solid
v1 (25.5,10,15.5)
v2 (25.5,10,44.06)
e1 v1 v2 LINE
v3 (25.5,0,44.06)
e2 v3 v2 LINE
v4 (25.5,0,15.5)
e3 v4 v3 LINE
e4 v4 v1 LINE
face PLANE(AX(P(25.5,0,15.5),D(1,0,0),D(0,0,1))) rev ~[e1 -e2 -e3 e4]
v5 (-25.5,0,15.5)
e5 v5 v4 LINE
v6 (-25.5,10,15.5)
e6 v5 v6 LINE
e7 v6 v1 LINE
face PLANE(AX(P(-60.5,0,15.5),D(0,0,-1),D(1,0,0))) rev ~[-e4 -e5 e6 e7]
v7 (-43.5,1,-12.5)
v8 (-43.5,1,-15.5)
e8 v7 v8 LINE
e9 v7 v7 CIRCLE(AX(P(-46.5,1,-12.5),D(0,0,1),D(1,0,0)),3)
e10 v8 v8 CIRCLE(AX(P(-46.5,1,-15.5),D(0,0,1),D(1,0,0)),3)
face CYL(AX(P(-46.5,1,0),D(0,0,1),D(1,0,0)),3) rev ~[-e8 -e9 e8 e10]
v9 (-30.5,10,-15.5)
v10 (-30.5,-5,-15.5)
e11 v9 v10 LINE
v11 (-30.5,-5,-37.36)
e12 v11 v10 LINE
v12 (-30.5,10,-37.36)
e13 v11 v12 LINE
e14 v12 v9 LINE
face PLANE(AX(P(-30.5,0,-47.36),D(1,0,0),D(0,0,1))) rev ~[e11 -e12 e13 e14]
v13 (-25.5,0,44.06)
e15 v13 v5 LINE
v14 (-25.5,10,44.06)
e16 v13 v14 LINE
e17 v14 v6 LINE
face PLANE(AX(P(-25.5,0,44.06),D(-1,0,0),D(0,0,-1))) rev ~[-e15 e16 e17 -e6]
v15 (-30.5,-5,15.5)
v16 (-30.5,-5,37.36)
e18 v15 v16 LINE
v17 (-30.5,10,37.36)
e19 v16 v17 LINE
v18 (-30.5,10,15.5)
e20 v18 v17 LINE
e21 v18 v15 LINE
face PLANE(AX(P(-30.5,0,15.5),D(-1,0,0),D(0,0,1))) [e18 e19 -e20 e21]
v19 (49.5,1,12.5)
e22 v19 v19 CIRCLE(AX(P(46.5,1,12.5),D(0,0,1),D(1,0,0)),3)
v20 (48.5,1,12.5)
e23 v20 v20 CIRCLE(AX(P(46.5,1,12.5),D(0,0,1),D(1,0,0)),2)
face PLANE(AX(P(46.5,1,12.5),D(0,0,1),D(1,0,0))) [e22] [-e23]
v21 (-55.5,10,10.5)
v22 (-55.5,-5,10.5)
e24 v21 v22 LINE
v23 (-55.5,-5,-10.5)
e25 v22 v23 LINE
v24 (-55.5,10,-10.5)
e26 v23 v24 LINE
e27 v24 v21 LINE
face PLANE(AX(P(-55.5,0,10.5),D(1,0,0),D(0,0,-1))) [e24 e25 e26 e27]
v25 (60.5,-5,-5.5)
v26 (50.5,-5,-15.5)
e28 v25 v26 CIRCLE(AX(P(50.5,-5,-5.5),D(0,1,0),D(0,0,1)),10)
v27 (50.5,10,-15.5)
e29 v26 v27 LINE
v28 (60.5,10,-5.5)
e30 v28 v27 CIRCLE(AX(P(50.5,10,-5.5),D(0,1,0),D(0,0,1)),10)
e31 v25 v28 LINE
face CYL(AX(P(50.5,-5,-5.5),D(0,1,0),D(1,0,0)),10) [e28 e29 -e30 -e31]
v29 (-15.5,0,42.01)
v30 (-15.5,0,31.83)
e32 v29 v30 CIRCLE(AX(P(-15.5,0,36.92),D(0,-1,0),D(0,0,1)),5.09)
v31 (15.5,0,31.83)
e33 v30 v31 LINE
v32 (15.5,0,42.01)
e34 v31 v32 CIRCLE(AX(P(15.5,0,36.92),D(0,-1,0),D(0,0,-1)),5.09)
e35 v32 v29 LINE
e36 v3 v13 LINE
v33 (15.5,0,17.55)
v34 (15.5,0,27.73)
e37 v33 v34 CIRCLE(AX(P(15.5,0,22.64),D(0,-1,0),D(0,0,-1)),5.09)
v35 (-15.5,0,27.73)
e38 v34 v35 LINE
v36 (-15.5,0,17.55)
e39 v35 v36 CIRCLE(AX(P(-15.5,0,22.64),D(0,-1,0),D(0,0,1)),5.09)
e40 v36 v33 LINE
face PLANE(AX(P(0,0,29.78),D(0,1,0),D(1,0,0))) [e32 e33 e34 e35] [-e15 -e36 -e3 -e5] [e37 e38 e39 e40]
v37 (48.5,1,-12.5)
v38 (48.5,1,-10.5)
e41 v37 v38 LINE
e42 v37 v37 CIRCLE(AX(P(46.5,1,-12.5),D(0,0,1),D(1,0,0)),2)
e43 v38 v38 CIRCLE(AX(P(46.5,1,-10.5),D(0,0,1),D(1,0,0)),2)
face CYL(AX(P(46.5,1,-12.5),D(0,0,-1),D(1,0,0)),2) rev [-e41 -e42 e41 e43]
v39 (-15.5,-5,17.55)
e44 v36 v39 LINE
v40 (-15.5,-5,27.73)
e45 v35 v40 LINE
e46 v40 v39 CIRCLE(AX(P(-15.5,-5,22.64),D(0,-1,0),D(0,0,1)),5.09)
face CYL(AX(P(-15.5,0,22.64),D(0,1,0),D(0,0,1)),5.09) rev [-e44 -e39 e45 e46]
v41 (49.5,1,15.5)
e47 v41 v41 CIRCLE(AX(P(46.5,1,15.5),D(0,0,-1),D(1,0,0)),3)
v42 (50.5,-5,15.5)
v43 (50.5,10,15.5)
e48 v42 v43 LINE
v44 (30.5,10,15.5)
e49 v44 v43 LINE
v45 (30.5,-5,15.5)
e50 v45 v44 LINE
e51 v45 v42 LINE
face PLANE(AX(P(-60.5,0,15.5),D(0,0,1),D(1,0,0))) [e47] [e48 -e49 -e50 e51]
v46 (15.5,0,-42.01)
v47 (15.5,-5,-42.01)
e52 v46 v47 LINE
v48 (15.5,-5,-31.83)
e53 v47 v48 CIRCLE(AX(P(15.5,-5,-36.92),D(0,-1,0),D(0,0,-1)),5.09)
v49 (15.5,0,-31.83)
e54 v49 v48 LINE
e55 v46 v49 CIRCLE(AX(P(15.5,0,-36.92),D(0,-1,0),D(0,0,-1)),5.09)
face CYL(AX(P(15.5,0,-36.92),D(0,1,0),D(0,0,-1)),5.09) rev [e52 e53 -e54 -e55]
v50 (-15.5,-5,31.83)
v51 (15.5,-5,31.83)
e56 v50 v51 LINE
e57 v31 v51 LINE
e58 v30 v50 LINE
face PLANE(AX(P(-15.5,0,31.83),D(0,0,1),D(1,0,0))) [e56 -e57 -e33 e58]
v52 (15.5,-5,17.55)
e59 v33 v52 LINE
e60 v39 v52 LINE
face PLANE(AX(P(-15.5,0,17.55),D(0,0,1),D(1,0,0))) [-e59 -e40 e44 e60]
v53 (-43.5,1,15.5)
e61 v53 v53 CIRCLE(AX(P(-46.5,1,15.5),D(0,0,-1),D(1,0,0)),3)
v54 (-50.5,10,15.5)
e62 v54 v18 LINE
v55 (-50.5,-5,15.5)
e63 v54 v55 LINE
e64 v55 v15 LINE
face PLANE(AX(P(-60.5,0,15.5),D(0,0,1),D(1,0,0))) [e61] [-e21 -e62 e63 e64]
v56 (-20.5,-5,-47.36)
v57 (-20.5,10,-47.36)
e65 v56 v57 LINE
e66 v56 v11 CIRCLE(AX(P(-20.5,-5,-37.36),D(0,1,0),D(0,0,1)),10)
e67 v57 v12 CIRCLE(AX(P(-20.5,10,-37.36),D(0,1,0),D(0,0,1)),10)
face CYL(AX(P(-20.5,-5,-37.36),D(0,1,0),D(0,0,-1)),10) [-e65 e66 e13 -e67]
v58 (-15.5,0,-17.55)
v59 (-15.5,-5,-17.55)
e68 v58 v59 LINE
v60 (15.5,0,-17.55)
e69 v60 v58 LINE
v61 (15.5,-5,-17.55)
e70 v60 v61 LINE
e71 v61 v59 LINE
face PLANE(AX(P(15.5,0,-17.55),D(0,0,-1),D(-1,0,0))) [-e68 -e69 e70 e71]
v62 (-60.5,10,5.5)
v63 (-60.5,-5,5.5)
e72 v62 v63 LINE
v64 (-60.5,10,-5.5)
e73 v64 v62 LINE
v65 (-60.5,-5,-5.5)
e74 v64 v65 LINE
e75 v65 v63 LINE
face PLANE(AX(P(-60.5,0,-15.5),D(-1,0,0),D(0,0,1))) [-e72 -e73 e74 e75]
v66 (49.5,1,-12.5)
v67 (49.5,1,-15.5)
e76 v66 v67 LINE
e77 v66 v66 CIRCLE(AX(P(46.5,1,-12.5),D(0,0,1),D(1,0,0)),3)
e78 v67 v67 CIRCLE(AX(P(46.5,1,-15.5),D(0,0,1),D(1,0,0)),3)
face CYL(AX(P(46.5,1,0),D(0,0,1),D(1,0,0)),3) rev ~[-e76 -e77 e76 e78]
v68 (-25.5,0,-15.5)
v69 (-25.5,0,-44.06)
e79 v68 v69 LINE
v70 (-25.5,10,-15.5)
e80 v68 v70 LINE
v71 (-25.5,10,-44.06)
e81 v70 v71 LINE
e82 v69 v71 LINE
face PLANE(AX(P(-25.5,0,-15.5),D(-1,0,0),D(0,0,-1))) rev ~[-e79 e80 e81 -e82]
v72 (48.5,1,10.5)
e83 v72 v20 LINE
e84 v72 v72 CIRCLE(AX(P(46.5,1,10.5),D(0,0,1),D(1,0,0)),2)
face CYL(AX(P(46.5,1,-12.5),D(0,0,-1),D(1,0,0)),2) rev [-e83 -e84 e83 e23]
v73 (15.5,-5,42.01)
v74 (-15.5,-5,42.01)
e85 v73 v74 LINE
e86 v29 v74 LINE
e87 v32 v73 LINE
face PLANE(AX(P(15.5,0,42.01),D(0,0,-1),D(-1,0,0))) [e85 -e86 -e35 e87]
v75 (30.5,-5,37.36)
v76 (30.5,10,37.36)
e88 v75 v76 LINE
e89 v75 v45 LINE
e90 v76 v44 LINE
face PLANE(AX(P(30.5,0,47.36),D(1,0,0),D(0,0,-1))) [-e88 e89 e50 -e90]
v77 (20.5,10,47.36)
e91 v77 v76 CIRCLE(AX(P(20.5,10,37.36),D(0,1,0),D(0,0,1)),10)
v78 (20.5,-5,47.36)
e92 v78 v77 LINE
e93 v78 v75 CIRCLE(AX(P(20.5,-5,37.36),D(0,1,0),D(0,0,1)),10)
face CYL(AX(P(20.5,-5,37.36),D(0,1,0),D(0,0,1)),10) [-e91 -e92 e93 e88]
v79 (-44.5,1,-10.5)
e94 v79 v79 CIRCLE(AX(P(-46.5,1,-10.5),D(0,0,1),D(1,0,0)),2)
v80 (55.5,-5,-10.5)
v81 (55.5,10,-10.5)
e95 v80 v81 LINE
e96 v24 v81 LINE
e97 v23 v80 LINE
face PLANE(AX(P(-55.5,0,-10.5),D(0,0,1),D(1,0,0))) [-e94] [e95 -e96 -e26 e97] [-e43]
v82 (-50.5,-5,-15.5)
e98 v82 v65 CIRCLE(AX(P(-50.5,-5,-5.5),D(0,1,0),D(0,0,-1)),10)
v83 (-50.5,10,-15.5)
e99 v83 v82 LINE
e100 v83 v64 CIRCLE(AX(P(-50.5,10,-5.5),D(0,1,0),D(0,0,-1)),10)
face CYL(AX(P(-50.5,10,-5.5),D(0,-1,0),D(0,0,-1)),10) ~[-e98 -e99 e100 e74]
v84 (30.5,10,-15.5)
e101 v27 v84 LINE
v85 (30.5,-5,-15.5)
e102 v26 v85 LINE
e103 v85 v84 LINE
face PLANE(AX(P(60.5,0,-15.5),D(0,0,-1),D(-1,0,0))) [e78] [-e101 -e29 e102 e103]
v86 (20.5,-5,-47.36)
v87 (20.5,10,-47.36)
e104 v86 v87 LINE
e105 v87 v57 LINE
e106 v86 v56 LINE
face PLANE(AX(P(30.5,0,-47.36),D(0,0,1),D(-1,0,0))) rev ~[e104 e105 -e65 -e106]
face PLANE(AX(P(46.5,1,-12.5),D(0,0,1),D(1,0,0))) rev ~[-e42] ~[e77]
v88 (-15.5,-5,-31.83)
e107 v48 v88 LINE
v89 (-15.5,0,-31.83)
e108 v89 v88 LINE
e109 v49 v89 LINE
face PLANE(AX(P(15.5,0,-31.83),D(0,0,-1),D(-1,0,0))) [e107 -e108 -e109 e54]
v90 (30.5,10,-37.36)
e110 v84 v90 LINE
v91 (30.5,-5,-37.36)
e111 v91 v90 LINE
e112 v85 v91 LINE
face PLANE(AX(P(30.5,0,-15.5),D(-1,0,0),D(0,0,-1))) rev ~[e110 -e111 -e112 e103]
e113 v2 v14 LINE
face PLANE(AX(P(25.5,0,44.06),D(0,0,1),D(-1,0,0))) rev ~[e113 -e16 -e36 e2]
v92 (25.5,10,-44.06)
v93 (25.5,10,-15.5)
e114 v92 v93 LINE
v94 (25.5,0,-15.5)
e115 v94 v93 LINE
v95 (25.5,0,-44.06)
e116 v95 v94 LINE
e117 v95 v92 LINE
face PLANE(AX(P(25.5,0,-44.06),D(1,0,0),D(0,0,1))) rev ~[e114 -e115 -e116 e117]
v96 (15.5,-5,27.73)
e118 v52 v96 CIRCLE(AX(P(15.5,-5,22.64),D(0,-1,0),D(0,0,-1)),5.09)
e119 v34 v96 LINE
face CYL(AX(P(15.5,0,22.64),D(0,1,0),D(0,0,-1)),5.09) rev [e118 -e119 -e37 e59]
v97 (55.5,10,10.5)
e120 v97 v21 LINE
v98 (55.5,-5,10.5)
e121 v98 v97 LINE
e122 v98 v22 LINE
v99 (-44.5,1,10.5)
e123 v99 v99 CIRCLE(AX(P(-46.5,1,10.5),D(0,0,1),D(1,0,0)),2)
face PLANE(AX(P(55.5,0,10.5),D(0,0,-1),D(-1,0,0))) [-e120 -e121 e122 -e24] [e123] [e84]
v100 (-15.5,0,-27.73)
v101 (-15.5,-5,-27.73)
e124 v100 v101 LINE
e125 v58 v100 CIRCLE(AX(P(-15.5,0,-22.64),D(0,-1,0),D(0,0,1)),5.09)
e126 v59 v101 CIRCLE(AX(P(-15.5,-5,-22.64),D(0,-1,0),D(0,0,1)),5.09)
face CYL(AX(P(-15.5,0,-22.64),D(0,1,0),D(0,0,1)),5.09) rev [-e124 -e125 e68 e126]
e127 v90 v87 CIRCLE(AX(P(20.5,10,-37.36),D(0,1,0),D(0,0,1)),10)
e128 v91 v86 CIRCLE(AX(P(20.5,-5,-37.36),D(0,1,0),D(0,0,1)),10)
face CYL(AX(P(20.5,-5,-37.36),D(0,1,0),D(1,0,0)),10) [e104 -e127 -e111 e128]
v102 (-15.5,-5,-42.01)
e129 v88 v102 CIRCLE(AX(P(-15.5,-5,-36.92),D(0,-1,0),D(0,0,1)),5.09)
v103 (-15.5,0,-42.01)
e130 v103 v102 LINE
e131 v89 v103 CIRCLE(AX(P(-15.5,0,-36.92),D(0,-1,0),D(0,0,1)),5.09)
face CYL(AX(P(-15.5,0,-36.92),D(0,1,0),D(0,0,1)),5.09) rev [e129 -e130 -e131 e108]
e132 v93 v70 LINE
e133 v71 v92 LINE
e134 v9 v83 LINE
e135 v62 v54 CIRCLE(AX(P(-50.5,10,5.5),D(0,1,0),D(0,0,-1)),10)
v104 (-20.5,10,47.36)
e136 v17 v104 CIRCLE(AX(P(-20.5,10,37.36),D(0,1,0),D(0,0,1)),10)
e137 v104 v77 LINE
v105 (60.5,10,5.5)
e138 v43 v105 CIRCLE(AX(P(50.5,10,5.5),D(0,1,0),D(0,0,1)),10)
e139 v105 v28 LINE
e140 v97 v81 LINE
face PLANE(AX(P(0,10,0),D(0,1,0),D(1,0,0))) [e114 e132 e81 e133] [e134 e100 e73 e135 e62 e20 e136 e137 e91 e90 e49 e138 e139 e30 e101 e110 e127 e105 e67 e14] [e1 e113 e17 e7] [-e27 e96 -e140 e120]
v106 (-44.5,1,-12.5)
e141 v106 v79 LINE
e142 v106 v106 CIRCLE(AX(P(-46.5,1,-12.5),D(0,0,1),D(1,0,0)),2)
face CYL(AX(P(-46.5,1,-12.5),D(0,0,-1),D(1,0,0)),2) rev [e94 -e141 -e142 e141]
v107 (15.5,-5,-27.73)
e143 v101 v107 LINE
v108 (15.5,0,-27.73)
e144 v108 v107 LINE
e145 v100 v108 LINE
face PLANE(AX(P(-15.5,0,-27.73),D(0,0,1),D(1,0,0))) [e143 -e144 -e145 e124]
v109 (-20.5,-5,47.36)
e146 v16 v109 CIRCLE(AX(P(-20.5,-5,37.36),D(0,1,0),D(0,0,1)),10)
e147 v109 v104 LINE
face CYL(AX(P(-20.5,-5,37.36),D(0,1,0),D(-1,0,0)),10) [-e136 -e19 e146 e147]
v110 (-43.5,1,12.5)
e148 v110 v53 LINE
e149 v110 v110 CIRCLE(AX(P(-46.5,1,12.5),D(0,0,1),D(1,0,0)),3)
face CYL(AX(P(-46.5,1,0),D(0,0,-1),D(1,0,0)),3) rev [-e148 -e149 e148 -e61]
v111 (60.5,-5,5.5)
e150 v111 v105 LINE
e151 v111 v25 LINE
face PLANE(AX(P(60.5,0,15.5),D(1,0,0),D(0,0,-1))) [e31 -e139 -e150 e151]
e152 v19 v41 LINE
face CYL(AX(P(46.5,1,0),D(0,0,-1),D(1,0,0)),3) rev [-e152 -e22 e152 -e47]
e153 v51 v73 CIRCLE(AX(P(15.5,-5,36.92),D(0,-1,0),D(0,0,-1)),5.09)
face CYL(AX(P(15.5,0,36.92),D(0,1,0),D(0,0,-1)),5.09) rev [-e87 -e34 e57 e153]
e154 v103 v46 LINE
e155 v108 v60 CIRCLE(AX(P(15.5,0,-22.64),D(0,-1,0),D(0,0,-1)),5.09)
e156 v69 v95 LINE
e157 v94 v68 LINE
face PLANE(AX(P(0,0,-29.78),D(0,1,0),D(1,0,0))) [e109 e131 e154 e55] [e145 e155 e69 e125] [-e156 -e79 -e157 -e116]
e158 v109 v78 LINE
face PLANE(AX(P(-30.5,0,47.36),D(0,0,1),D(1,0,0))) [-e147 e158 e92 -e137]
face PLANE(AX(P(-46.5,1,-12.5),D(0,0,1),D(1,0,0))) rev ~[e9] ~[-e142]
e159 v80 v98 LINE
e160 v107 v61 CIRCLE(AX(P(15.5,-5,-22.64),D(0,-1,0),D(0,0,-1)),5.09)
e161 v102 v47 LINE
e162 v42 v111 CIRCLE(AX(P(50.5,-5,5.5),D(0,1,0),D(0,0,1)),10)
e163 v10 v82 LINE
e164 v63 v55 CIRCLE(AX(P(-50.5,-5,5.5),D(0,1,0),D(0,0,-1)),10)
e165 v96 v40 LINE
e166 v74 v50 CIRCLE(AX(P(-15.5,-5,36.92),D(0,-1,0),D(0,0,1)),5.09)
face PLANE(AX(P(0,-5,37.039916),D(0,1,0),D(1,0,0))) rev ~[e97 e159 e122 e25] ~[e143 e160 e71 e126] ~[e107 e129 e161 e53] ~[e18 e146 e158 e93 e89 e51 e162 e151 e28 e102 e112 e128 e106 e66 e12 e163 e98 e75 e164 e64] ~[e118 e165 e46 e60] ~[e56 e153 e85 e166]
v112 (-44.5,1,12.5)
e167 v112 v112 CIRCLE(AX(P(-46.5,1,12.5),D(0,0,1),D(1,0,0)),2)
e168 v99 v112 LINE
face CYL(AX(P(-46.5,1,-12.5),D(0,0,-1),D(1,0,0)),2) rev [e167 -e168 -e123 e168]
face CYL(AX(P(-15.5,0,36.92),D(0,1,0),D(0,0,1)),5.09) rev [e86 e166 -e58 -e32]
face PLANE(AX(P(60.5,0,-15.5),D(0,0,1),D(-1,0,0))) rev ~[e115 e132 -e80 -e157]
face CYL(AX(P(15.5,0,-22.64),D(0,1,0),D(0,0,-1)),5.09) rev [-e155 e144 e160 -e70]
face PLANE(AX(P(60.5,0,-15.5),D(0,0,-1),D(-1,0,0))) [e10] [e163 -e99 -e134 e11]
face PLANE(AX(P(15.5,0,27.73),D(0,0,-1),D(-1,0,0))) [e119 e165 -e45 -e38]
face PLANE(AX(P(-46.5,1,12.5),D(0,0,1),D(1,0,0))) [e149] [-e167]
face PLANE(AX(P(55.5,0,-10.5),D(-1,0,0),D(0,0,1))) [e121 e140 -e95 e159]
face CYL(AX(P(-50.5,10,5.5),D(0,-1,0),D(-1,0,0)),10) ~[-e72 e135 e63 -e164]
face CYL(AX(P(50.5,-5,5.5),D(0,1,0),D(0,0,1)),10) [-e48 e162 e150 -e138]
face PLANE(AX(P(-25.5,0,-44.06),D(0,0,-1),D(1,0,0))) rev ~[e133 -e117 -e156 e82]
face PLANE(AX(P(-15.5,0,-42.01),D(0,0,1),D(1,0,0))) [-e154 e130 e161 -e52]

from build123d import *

# Parameters (mm, degrees)
BOSS_EXTRUDE1_DEPTH            = 10
SKETCH1_3_W                    = 51
SKETCH1_3_H                    = 28.56
BOSS_EXTRUDE2_DEPTH            = 5
CUT_EXTRUDE1_REACH             = 79.48
SKETCH3_R                      = 3
SKETCH3_R_2                    = 2
CUT_EXTRUDE1_DIRECTION_2_REACH = 79.48
BOSS_EXTRUDE3_DEPTH            = 12.5
BOSS_EXTRUDE3_DEPTH_BACK       = 12.5
SKETCH3_5_R                    = 3
SKETCH3_5_R_2                  = 2
CUT_EXTRUDE5_DEPTH             = 10.5
CUT_EXTRUDE5_DEPTH_BACK        = 10.5
SKETCH3_12_R                   = 3
SKETCH3_12_R_2                 = 2
FILLET1_R                      = 10


with BuildPart() as part:
    # Sketch1 → Boss-Extrude1 (new body)
    # profile 1 of 3: a face of its own
    with BuildSketch(Plane(origin=(0, 0, 0), x_dir=(1, 0, 0), z_dir=(0, 1, 0))):
        Polygon((-30.5, 47.36), (-30.5, 15.5), (-25.5, 15.5), (-25.5, 44.06), (25.5, 44.06), (25.5, 15.5), (30.5, 15.5), (30.5, 47.36), align=None)
    # profile 2 of 3: a face of its own
    with BuildSketch(Plane(origin=(0, 0, 0), x_dir=(1, 0, 0), z_dir=(0, 1, 0))):
        Polygon((30.5, 15.5), (-30.5, 15.5), (-60.5, 15.5), (-60.5, -15.5), (-30.5, -15.5), (30.5, -15.5), (60.5, -15.5), (60.5, 15.5), align=None)
        Polygon((30.5, 10.5), (-30.5, 10.5), (-55.5, 10.5), (-55.5, -10.5), (-30.5, -10.5), (30.5, -10.5), (55.5, -10.5), (55.5, 10.5), align=None, mode=Mode.SUBTRACT)
    # profile 3 of 3: a face of its own
    with BuildSketch(Plane(origin=(0, 0, 0), x_dir=(1, 0, 0), z_dir=(0, 1, 0))):
        Polygon((-30.5, -15.5), (-30.5, -47.36), (30.5, -47.36), (30.5, -15.5), (25.5, -15.5), (25.5, -44.06), (-25.5, -44.06), (-25.5, -15.5), align=None)
    extrude(amount=BOSS_EXTRUDE1_DEPTH)

    # Sketch1<3> → Boss-Extrude2 (add)
    # profile 1 of 5: a face of its own
    with BuildSketch(Plane(origin=(0, 0, 0), x_dir=(1, 0, 0), z_dir=(0, 1, 0))):
        Polygon((-30.5, -15.5), (-30.5, -47.36), (30.5, -47.36), (30.5, -15.5), (25.5, -15.5), (25.5, -44.06), (-25.5, -44.06), (-25.5, -15.5), align=None)
    # profile 2 of 5: a face of its own
    with BuildSketch(Plane(origin=(0, 0, 0), x_dir=(1, 0, 0), z_dir=(0, 1, 0))):
        Polygon((-60.5, -15.5), (-30.5, -15.5), (-25.5, -15.5), (25.5, -15.5), (30.5, -15.5), (60.5, -15.5), (60.5, 15.5), (30.5, 15.5), (25.5, 15.5), (-25.5, 15.5), (-30.5, 15.5), (-60.5, 15.5), align=None)
        Polygon((-55.5, 10.5), (-30.5, 10.5), (30.5, 10.5), (55.5, 10.5), (55.5, -10.5), (30.5, -10.5), (-30.5, -10.5), (-55.5, -10.5), align=None, mode=Mode.SUBTRACT)
    # profile 3 of 5: a face of its own
    with BuildSketch(Plane(origin=(0, 0, 0), x_dir=(1, 0, 0), z_dir=(0, 1, 0))):
        with Locations((0, -29.78)):
            Rectangle(SKETCH1_3_W, SKETCH1_3_H)
        with BuildLine():
            ThreePointArc((-15.5, -27.73), (-20.59, -22.64), (-15.5, -17.55))
            Line((-15.5, -17.55), (15.5, -17.55))
            ThreePointArc((15.5, -17.55), (20.59, -22.64), (15.5, -27.73))
            Line((15.5, -27.73), (-15.5, -27.73))
        make_face(mode=Mode.SUBTRACT)
        with BuildLine():
            Line((15.5, -42.01), (-15.5, -42.01))
            ThreePointArc((-15.5, -42.01), (-20.59, -36.92), (-15.5, -31.83))
            Line((-15.5, -31.83), (15.5, -31.83))
            ThreePointArc((15.5, -31.83), (20.59, -36.92), (15.5, -42.01))
        make_face(mode=Mode.SUBTRACT)
    # profile 4 of 5: a face of its own
    with BuildSketch(Plane(origin=(0, 0, 0), x_dir=(1, 0, 0), z_dir=(0, 1, 0))):
        Polygon((-30.5, 47.36), (-30.5, 15.5), (-25.5, 15.5), (-25.5, 44.06), (25.5, 44.06), (25.5, 15.5), (30.5, 15.5), (30.5, 47.36), align=None)
    # profile 5 of 5: a face of its own
    with BuildSketch(Plane(origin=(0, 0, 0), x_dir=(1, 0, 0), z_dir=(0, 1, 0))):
        with Locations((0, 29.78)):
            Rectangle(SKETCH1_3_W, SKETCH1_3_H)
        with BuildLine():
            Line((15.5, 17.55), (-15.5, 17.55))
            ThreePointArc((-15.5, 17.55), (-20.59, 22.64), (-15.5, 27.73))
            Line((-15.5, 27.73), (15.5, 27.73))
            ThreePointArc((15.5, 27.73), (20.59, 22.64), (15.5, 17.55))
        make_face(mode=Mode.SUBTRACT)
        with BuildLine():
            ThreePointArc((-15.5, 31.83), (-20.59, 36.92), (-15.5, 42.01))
            Line((-15.5, 42.01), (15.5, 42.01))
            ThreePointArc((15.5, 42.01), (20.59, 36.92), (15.5, 31.83))
            Line((15.5, 31.83), (-15.5, 31.83))
        make_face(mode=Mode.SUBTRACT)
    extrude(amount=-BOSS_EXTRUDE2_DEPTH)

    # Cut-Extrude1: up to this face of the body (flat: up to its plane)
    cut_extrude1_end = Plane(part.part.faces().sort_by_distance((-45.5, 2.5, -15.5))[0])
    # Sketch3 → Cut-Extrude1 (cut, up to the picked face)
    with BuildSketch(Plane.XY, mode=Mode.PRIVATE) as cut_extrude1_sk1:
        with Locations((-46.5, 1)):
            Circle(SKETCH3_R)
        with Locations((-46.5, 1)):
            Circle(SKETCH3_R_2, mode=Mode.SUBTRACT)
    cut_extrude1_tool1 = split(extrude(cut_extrude1_sk1.sketch, amount=-CUT_EXTRUDE1_REACH, mode=Mode.PRIVATE), bisect_by=cut_extrude1_end, keep=Keep.BOTH, mode=Mode.PRIVATE)
    # Sketch3 → Cut-Extrude1 (cut, up to the picked face)
    with BuildSketch(Plane.XY, mode=Mode.PRIVATE) as cut_extrude1_sk2:
        with Locations((-46.5, 1)):
            Circle(SKETCH3_R_2)
    cut_extrude1_tool2 = split(extrude(cut_extrude1_sk2.sketch, amount=-CUT_EXTRUDE1_REACH, mode=Mode.PRIVATE), bisect_by=cut_extrude1_end, keep=Keep.BOTH, mode=Mode.PRIVATE)
    # Sketch3 → Cut-Extrude1 (cut, up to the picked face)
    with BuildSketch(Plane.XY, mode=Mode.PRIVATE) as cut_extrude1_sk3:
        with Locations((46.5, 1)):
            Circle(SKETCH3_R)
        with Locations((46.5, 1)):
            Circle(SKETCH3_R_2, mode=Mode.SUBTRACT)
    cut_extrude1_tool3 = split(extrude(cut_extrude1_sk3.sketch, amount=-CUT_EXTRUDE1_REACH, mode=Mode.PRIVATE), bisect_by=cut_extrude1_end, keep=Keep.BOTH, mode=Mode.PRIVATE)
    # Sketch3 → Cut-Extrude1 (cut, up to the picked face)
    with BuildSketch(Plane.XY, mode=Mode.PRIVATE) as cut_extrude1_sk4:
        with Locations((46.5, 1)):
            Circle(SKETCH3_R_2)
    cut_extrude1_tool4 = split(extrude(cut_extrude1_sk4.sketch, amount=-CUT_EXTRUDE1_REACH, mode=Mode.PRIVATE), bisect_by=cut_extrude1_end, keep=Keep.BOTH, mode=Mode.PRIVATE)
    add(cut_extrude1_tool1.solids().sort_by(Axis((-49.415147, 1, 0), (0, 0, -1)))[0], mode=Mode.SUBTRACT)
    add(cut_extrude1_tool2.solids().sort_by(Axis((-46.5, 1, 0), (0, 0, -1)))[0], mode=Mode.SUBTRACT)
    add(cut_extrude1_tool3.solids().sort_by(Axis((43.584853, 1, 0), (0, 0, -1)))[0], mode=Mode.SUBTRACT)
    add(cut_extrude1_tool4.solids().sort_by(Axis((46.5, 1, 0), (0, 0, -1)))[0], mode=Mode.SUBTRACT)

    # Cut-Extrude1 direction 2: up to this face of the body (flat: up to its plane)
    cut_extrude1_direction_2_end = Plane(part.part.faces().sort_by_distance((-45.5, 2.5, 15.5))[0])
    # Sketch3 → Cut-Extrude1 direction 2 (cut, up to the picked face)
    with BuildSketch(Plane.XY, mode=Mode.PRIVATE) as cut_extrude1_direction_2_sk1:
        with Locations((-46.5, 1)):
            Circle(SKETCH3_R)
        with Locations((-46.5, 1)):
            Circle(SKETCH3_R_2, mode=Mode.SUBTRACT)
    cut_extrude1_direction_2_tool1 = split(extrude(cut_extrude1_direction_2_sk1.sketch, amount=CUT_EXTRUDE1_DIRECTION_2_REACH, mode=Mode.PRIVATE), bisect_by=cut_extrude1_direction_2_end, keep=Keep.BOTH, mode=Mode.PRIVATE)
    # Sketch3 → Cut-Extrude1 direction 2 (cut, up to the picked face)
    with BuildSketch(Plane.XY, mode=Mode.PRIVATE) as cut_extrude1_direction_2_sk2:
        with Locations((-46.5, 1)):
            Circle(SKETCH3_R_2)
    cut_extrude1_direction_2_tool2 = split(extrude(cut_extrude1_direction_2_sk2.sketch, amount=CUT_EXTRUDE1_DIRECTION_2_REACH, mode=Mode.PRIVATE), bisect_by=cut_extrude1_direction_2_end, keep=Keep.BOTH, mode=Mode.PRIVATE)
    # Sketch3 → Cut-Extrude1 direction 2 (cut, up to the picked face)
    with BuildSketch(Plane.XY, mode=Mode.PRIVATE) as cut_extrude1_direction_2_sk3:
        with Locations((46.5, 1)):
            Circle(SKETCH3_R)
        with Locations((46.5, 1)):
            Circle(SKETCH3_R_2, mode=Mode.SUBTRACT)
    cut_extrude1_direction_2_tool3 = split(extrude(cut_extrude1_direction_2_sk3.sketch, amount=CUT_EXTRUDE1_DIRECTION_2_REACH, mode=Mode.PRIVATE), bisect_by=cut_extrude1_direction_2_end, keep=Keep.BOTH, mode=Mode.PRIVATE)
    # Sketch3 → Cut-Extrude1 direction 2 (cut, up to the picked face)
    with BuildSketch(Plane.XY, mode=Mode.PRIVATE) as cut_extrude1_direction_2_sk4:
        with Locations((46.5, 1)):
            Circle(SKETCH3_R_2)
    cut_extrude1_direction_2_tool4 = split(extrude(cut_extrude1_direction_2_sk4.sketch, amount=CUT_EXTRUDE1_DIRECTION_2_REACH, mode=Mode.PRIVATE), bisect_by=cut_extrude1_direction_2_end, keep=Keep.BOTH, mode=Mode.PRIVATE)
    add(cut_extrude1_direction_2_tool1.solids().sort_by(Axis((-49.415147, 1, 0), (0, 0, 1)))[0], mode=Mode.SUBTRACT)
    add(cut_extrude1_direction_2_tool2.solids().sort_by(Axis((-46.5, 1, 0), (0, 0, 1)))[0], mode=Mode.SUBTRACT)
    add(cut_extrude1_direction_2_tool3.solids().sort_by(Axis((43.584853, 1, 0), (0, 0, 1)))[0], mode=Mode.SUBTRACT)
    add(cut_extrude1_direction_2_tool4.solids().sort_by(Axis((46.5, 1, 0), (0, 0, 1)))[0], mode=Mode.SUBTRACT)

    # Sketch3<5> → Boss-Extrude3 (add, two sides: drawn at the far end of the back side and taken through both)
    # profile 1 of 2: a face of its own
    with BuildSketch(Plane.XY.offset(-BOSS_EXTRUDE3_DEPTH_BACK)):
        with Locations((-46.5, 1)):
            Circle(SKETCH3_5_R)
        with Locations((-46.5, 1)):
            Circle(SKETCH3_5_R_2, mode=Mode.SUBTRACT)
    # profile 2 of 2: a face of its own
    with BuildSketch(Plane.XY.offset(-BOSS_EXTRUDE3_DEPTH_BACK)):
        with Locations((46.5, 1)):
            Circle(SKETCH3_5_R)
        with Locations((46.5, 1)):
            Circle(SKETCH3_5_R_2, mode=Mode.SUBTRACT)
    extrude(amount=BOSS_EXTRUDE3_DEPTH + BOSS_EXTRUDE3_DEPTH_BACK)

    # Sketch3<12> → Cut-Extrude5 (cut, two sides: drawn at the far end of the back side and taken through both)
    # profile 1 of 2: a face of its own
    with BuildSketch(Plane.XY.offset(-CUT_EXTRUDE5_DEPTH_BACK)):
        with Locations((46.5, 1)):
            Circle(SKETCH3_12_R)
        with Locations((46.5, 1)):
            Circle(SKETCH3_12_R_2, mode=Mode.SUBTRACT)
    # profile 2 of 2: a face of its own
    with BuildSketch(Plane.XY.offset(-CUT_EXTRUDE5_DEPTH_BACK)):
        with Locations((-46.5, 1)):
            Circle(SKETCH3_12_R)
        with Locations((-46.5, 1)):
            Circle(SKETCH3_12_R_2, mode=Mode.SUBTRACT)
    extrude(amount=CUT_EXTRUDE5_DEPTH + CUT_EXTRUDE5_DEPTH_BACK, mode=Mode.SUBTRACT)

    # Fillet1
    fillet1_edges = [part.edges().sort_by_distance(p)[0] for p in [
        (60.5, 2.5, -15.5),
        (60.5, 2.5, 15.5),
        (30.5, 2.5, 47.36),
        (-30.5, 2.5, 47.36),
        (-60.5, 2.5, 15.5),
        (-60.5, 2.5, -15.5),
        (-30.5, 2.5, -47.36),
        (30.5, 2.5, -47.36),
    ]]
    fillet(fillet1_edges, radius=FILLET1_R)


solid = part.part
